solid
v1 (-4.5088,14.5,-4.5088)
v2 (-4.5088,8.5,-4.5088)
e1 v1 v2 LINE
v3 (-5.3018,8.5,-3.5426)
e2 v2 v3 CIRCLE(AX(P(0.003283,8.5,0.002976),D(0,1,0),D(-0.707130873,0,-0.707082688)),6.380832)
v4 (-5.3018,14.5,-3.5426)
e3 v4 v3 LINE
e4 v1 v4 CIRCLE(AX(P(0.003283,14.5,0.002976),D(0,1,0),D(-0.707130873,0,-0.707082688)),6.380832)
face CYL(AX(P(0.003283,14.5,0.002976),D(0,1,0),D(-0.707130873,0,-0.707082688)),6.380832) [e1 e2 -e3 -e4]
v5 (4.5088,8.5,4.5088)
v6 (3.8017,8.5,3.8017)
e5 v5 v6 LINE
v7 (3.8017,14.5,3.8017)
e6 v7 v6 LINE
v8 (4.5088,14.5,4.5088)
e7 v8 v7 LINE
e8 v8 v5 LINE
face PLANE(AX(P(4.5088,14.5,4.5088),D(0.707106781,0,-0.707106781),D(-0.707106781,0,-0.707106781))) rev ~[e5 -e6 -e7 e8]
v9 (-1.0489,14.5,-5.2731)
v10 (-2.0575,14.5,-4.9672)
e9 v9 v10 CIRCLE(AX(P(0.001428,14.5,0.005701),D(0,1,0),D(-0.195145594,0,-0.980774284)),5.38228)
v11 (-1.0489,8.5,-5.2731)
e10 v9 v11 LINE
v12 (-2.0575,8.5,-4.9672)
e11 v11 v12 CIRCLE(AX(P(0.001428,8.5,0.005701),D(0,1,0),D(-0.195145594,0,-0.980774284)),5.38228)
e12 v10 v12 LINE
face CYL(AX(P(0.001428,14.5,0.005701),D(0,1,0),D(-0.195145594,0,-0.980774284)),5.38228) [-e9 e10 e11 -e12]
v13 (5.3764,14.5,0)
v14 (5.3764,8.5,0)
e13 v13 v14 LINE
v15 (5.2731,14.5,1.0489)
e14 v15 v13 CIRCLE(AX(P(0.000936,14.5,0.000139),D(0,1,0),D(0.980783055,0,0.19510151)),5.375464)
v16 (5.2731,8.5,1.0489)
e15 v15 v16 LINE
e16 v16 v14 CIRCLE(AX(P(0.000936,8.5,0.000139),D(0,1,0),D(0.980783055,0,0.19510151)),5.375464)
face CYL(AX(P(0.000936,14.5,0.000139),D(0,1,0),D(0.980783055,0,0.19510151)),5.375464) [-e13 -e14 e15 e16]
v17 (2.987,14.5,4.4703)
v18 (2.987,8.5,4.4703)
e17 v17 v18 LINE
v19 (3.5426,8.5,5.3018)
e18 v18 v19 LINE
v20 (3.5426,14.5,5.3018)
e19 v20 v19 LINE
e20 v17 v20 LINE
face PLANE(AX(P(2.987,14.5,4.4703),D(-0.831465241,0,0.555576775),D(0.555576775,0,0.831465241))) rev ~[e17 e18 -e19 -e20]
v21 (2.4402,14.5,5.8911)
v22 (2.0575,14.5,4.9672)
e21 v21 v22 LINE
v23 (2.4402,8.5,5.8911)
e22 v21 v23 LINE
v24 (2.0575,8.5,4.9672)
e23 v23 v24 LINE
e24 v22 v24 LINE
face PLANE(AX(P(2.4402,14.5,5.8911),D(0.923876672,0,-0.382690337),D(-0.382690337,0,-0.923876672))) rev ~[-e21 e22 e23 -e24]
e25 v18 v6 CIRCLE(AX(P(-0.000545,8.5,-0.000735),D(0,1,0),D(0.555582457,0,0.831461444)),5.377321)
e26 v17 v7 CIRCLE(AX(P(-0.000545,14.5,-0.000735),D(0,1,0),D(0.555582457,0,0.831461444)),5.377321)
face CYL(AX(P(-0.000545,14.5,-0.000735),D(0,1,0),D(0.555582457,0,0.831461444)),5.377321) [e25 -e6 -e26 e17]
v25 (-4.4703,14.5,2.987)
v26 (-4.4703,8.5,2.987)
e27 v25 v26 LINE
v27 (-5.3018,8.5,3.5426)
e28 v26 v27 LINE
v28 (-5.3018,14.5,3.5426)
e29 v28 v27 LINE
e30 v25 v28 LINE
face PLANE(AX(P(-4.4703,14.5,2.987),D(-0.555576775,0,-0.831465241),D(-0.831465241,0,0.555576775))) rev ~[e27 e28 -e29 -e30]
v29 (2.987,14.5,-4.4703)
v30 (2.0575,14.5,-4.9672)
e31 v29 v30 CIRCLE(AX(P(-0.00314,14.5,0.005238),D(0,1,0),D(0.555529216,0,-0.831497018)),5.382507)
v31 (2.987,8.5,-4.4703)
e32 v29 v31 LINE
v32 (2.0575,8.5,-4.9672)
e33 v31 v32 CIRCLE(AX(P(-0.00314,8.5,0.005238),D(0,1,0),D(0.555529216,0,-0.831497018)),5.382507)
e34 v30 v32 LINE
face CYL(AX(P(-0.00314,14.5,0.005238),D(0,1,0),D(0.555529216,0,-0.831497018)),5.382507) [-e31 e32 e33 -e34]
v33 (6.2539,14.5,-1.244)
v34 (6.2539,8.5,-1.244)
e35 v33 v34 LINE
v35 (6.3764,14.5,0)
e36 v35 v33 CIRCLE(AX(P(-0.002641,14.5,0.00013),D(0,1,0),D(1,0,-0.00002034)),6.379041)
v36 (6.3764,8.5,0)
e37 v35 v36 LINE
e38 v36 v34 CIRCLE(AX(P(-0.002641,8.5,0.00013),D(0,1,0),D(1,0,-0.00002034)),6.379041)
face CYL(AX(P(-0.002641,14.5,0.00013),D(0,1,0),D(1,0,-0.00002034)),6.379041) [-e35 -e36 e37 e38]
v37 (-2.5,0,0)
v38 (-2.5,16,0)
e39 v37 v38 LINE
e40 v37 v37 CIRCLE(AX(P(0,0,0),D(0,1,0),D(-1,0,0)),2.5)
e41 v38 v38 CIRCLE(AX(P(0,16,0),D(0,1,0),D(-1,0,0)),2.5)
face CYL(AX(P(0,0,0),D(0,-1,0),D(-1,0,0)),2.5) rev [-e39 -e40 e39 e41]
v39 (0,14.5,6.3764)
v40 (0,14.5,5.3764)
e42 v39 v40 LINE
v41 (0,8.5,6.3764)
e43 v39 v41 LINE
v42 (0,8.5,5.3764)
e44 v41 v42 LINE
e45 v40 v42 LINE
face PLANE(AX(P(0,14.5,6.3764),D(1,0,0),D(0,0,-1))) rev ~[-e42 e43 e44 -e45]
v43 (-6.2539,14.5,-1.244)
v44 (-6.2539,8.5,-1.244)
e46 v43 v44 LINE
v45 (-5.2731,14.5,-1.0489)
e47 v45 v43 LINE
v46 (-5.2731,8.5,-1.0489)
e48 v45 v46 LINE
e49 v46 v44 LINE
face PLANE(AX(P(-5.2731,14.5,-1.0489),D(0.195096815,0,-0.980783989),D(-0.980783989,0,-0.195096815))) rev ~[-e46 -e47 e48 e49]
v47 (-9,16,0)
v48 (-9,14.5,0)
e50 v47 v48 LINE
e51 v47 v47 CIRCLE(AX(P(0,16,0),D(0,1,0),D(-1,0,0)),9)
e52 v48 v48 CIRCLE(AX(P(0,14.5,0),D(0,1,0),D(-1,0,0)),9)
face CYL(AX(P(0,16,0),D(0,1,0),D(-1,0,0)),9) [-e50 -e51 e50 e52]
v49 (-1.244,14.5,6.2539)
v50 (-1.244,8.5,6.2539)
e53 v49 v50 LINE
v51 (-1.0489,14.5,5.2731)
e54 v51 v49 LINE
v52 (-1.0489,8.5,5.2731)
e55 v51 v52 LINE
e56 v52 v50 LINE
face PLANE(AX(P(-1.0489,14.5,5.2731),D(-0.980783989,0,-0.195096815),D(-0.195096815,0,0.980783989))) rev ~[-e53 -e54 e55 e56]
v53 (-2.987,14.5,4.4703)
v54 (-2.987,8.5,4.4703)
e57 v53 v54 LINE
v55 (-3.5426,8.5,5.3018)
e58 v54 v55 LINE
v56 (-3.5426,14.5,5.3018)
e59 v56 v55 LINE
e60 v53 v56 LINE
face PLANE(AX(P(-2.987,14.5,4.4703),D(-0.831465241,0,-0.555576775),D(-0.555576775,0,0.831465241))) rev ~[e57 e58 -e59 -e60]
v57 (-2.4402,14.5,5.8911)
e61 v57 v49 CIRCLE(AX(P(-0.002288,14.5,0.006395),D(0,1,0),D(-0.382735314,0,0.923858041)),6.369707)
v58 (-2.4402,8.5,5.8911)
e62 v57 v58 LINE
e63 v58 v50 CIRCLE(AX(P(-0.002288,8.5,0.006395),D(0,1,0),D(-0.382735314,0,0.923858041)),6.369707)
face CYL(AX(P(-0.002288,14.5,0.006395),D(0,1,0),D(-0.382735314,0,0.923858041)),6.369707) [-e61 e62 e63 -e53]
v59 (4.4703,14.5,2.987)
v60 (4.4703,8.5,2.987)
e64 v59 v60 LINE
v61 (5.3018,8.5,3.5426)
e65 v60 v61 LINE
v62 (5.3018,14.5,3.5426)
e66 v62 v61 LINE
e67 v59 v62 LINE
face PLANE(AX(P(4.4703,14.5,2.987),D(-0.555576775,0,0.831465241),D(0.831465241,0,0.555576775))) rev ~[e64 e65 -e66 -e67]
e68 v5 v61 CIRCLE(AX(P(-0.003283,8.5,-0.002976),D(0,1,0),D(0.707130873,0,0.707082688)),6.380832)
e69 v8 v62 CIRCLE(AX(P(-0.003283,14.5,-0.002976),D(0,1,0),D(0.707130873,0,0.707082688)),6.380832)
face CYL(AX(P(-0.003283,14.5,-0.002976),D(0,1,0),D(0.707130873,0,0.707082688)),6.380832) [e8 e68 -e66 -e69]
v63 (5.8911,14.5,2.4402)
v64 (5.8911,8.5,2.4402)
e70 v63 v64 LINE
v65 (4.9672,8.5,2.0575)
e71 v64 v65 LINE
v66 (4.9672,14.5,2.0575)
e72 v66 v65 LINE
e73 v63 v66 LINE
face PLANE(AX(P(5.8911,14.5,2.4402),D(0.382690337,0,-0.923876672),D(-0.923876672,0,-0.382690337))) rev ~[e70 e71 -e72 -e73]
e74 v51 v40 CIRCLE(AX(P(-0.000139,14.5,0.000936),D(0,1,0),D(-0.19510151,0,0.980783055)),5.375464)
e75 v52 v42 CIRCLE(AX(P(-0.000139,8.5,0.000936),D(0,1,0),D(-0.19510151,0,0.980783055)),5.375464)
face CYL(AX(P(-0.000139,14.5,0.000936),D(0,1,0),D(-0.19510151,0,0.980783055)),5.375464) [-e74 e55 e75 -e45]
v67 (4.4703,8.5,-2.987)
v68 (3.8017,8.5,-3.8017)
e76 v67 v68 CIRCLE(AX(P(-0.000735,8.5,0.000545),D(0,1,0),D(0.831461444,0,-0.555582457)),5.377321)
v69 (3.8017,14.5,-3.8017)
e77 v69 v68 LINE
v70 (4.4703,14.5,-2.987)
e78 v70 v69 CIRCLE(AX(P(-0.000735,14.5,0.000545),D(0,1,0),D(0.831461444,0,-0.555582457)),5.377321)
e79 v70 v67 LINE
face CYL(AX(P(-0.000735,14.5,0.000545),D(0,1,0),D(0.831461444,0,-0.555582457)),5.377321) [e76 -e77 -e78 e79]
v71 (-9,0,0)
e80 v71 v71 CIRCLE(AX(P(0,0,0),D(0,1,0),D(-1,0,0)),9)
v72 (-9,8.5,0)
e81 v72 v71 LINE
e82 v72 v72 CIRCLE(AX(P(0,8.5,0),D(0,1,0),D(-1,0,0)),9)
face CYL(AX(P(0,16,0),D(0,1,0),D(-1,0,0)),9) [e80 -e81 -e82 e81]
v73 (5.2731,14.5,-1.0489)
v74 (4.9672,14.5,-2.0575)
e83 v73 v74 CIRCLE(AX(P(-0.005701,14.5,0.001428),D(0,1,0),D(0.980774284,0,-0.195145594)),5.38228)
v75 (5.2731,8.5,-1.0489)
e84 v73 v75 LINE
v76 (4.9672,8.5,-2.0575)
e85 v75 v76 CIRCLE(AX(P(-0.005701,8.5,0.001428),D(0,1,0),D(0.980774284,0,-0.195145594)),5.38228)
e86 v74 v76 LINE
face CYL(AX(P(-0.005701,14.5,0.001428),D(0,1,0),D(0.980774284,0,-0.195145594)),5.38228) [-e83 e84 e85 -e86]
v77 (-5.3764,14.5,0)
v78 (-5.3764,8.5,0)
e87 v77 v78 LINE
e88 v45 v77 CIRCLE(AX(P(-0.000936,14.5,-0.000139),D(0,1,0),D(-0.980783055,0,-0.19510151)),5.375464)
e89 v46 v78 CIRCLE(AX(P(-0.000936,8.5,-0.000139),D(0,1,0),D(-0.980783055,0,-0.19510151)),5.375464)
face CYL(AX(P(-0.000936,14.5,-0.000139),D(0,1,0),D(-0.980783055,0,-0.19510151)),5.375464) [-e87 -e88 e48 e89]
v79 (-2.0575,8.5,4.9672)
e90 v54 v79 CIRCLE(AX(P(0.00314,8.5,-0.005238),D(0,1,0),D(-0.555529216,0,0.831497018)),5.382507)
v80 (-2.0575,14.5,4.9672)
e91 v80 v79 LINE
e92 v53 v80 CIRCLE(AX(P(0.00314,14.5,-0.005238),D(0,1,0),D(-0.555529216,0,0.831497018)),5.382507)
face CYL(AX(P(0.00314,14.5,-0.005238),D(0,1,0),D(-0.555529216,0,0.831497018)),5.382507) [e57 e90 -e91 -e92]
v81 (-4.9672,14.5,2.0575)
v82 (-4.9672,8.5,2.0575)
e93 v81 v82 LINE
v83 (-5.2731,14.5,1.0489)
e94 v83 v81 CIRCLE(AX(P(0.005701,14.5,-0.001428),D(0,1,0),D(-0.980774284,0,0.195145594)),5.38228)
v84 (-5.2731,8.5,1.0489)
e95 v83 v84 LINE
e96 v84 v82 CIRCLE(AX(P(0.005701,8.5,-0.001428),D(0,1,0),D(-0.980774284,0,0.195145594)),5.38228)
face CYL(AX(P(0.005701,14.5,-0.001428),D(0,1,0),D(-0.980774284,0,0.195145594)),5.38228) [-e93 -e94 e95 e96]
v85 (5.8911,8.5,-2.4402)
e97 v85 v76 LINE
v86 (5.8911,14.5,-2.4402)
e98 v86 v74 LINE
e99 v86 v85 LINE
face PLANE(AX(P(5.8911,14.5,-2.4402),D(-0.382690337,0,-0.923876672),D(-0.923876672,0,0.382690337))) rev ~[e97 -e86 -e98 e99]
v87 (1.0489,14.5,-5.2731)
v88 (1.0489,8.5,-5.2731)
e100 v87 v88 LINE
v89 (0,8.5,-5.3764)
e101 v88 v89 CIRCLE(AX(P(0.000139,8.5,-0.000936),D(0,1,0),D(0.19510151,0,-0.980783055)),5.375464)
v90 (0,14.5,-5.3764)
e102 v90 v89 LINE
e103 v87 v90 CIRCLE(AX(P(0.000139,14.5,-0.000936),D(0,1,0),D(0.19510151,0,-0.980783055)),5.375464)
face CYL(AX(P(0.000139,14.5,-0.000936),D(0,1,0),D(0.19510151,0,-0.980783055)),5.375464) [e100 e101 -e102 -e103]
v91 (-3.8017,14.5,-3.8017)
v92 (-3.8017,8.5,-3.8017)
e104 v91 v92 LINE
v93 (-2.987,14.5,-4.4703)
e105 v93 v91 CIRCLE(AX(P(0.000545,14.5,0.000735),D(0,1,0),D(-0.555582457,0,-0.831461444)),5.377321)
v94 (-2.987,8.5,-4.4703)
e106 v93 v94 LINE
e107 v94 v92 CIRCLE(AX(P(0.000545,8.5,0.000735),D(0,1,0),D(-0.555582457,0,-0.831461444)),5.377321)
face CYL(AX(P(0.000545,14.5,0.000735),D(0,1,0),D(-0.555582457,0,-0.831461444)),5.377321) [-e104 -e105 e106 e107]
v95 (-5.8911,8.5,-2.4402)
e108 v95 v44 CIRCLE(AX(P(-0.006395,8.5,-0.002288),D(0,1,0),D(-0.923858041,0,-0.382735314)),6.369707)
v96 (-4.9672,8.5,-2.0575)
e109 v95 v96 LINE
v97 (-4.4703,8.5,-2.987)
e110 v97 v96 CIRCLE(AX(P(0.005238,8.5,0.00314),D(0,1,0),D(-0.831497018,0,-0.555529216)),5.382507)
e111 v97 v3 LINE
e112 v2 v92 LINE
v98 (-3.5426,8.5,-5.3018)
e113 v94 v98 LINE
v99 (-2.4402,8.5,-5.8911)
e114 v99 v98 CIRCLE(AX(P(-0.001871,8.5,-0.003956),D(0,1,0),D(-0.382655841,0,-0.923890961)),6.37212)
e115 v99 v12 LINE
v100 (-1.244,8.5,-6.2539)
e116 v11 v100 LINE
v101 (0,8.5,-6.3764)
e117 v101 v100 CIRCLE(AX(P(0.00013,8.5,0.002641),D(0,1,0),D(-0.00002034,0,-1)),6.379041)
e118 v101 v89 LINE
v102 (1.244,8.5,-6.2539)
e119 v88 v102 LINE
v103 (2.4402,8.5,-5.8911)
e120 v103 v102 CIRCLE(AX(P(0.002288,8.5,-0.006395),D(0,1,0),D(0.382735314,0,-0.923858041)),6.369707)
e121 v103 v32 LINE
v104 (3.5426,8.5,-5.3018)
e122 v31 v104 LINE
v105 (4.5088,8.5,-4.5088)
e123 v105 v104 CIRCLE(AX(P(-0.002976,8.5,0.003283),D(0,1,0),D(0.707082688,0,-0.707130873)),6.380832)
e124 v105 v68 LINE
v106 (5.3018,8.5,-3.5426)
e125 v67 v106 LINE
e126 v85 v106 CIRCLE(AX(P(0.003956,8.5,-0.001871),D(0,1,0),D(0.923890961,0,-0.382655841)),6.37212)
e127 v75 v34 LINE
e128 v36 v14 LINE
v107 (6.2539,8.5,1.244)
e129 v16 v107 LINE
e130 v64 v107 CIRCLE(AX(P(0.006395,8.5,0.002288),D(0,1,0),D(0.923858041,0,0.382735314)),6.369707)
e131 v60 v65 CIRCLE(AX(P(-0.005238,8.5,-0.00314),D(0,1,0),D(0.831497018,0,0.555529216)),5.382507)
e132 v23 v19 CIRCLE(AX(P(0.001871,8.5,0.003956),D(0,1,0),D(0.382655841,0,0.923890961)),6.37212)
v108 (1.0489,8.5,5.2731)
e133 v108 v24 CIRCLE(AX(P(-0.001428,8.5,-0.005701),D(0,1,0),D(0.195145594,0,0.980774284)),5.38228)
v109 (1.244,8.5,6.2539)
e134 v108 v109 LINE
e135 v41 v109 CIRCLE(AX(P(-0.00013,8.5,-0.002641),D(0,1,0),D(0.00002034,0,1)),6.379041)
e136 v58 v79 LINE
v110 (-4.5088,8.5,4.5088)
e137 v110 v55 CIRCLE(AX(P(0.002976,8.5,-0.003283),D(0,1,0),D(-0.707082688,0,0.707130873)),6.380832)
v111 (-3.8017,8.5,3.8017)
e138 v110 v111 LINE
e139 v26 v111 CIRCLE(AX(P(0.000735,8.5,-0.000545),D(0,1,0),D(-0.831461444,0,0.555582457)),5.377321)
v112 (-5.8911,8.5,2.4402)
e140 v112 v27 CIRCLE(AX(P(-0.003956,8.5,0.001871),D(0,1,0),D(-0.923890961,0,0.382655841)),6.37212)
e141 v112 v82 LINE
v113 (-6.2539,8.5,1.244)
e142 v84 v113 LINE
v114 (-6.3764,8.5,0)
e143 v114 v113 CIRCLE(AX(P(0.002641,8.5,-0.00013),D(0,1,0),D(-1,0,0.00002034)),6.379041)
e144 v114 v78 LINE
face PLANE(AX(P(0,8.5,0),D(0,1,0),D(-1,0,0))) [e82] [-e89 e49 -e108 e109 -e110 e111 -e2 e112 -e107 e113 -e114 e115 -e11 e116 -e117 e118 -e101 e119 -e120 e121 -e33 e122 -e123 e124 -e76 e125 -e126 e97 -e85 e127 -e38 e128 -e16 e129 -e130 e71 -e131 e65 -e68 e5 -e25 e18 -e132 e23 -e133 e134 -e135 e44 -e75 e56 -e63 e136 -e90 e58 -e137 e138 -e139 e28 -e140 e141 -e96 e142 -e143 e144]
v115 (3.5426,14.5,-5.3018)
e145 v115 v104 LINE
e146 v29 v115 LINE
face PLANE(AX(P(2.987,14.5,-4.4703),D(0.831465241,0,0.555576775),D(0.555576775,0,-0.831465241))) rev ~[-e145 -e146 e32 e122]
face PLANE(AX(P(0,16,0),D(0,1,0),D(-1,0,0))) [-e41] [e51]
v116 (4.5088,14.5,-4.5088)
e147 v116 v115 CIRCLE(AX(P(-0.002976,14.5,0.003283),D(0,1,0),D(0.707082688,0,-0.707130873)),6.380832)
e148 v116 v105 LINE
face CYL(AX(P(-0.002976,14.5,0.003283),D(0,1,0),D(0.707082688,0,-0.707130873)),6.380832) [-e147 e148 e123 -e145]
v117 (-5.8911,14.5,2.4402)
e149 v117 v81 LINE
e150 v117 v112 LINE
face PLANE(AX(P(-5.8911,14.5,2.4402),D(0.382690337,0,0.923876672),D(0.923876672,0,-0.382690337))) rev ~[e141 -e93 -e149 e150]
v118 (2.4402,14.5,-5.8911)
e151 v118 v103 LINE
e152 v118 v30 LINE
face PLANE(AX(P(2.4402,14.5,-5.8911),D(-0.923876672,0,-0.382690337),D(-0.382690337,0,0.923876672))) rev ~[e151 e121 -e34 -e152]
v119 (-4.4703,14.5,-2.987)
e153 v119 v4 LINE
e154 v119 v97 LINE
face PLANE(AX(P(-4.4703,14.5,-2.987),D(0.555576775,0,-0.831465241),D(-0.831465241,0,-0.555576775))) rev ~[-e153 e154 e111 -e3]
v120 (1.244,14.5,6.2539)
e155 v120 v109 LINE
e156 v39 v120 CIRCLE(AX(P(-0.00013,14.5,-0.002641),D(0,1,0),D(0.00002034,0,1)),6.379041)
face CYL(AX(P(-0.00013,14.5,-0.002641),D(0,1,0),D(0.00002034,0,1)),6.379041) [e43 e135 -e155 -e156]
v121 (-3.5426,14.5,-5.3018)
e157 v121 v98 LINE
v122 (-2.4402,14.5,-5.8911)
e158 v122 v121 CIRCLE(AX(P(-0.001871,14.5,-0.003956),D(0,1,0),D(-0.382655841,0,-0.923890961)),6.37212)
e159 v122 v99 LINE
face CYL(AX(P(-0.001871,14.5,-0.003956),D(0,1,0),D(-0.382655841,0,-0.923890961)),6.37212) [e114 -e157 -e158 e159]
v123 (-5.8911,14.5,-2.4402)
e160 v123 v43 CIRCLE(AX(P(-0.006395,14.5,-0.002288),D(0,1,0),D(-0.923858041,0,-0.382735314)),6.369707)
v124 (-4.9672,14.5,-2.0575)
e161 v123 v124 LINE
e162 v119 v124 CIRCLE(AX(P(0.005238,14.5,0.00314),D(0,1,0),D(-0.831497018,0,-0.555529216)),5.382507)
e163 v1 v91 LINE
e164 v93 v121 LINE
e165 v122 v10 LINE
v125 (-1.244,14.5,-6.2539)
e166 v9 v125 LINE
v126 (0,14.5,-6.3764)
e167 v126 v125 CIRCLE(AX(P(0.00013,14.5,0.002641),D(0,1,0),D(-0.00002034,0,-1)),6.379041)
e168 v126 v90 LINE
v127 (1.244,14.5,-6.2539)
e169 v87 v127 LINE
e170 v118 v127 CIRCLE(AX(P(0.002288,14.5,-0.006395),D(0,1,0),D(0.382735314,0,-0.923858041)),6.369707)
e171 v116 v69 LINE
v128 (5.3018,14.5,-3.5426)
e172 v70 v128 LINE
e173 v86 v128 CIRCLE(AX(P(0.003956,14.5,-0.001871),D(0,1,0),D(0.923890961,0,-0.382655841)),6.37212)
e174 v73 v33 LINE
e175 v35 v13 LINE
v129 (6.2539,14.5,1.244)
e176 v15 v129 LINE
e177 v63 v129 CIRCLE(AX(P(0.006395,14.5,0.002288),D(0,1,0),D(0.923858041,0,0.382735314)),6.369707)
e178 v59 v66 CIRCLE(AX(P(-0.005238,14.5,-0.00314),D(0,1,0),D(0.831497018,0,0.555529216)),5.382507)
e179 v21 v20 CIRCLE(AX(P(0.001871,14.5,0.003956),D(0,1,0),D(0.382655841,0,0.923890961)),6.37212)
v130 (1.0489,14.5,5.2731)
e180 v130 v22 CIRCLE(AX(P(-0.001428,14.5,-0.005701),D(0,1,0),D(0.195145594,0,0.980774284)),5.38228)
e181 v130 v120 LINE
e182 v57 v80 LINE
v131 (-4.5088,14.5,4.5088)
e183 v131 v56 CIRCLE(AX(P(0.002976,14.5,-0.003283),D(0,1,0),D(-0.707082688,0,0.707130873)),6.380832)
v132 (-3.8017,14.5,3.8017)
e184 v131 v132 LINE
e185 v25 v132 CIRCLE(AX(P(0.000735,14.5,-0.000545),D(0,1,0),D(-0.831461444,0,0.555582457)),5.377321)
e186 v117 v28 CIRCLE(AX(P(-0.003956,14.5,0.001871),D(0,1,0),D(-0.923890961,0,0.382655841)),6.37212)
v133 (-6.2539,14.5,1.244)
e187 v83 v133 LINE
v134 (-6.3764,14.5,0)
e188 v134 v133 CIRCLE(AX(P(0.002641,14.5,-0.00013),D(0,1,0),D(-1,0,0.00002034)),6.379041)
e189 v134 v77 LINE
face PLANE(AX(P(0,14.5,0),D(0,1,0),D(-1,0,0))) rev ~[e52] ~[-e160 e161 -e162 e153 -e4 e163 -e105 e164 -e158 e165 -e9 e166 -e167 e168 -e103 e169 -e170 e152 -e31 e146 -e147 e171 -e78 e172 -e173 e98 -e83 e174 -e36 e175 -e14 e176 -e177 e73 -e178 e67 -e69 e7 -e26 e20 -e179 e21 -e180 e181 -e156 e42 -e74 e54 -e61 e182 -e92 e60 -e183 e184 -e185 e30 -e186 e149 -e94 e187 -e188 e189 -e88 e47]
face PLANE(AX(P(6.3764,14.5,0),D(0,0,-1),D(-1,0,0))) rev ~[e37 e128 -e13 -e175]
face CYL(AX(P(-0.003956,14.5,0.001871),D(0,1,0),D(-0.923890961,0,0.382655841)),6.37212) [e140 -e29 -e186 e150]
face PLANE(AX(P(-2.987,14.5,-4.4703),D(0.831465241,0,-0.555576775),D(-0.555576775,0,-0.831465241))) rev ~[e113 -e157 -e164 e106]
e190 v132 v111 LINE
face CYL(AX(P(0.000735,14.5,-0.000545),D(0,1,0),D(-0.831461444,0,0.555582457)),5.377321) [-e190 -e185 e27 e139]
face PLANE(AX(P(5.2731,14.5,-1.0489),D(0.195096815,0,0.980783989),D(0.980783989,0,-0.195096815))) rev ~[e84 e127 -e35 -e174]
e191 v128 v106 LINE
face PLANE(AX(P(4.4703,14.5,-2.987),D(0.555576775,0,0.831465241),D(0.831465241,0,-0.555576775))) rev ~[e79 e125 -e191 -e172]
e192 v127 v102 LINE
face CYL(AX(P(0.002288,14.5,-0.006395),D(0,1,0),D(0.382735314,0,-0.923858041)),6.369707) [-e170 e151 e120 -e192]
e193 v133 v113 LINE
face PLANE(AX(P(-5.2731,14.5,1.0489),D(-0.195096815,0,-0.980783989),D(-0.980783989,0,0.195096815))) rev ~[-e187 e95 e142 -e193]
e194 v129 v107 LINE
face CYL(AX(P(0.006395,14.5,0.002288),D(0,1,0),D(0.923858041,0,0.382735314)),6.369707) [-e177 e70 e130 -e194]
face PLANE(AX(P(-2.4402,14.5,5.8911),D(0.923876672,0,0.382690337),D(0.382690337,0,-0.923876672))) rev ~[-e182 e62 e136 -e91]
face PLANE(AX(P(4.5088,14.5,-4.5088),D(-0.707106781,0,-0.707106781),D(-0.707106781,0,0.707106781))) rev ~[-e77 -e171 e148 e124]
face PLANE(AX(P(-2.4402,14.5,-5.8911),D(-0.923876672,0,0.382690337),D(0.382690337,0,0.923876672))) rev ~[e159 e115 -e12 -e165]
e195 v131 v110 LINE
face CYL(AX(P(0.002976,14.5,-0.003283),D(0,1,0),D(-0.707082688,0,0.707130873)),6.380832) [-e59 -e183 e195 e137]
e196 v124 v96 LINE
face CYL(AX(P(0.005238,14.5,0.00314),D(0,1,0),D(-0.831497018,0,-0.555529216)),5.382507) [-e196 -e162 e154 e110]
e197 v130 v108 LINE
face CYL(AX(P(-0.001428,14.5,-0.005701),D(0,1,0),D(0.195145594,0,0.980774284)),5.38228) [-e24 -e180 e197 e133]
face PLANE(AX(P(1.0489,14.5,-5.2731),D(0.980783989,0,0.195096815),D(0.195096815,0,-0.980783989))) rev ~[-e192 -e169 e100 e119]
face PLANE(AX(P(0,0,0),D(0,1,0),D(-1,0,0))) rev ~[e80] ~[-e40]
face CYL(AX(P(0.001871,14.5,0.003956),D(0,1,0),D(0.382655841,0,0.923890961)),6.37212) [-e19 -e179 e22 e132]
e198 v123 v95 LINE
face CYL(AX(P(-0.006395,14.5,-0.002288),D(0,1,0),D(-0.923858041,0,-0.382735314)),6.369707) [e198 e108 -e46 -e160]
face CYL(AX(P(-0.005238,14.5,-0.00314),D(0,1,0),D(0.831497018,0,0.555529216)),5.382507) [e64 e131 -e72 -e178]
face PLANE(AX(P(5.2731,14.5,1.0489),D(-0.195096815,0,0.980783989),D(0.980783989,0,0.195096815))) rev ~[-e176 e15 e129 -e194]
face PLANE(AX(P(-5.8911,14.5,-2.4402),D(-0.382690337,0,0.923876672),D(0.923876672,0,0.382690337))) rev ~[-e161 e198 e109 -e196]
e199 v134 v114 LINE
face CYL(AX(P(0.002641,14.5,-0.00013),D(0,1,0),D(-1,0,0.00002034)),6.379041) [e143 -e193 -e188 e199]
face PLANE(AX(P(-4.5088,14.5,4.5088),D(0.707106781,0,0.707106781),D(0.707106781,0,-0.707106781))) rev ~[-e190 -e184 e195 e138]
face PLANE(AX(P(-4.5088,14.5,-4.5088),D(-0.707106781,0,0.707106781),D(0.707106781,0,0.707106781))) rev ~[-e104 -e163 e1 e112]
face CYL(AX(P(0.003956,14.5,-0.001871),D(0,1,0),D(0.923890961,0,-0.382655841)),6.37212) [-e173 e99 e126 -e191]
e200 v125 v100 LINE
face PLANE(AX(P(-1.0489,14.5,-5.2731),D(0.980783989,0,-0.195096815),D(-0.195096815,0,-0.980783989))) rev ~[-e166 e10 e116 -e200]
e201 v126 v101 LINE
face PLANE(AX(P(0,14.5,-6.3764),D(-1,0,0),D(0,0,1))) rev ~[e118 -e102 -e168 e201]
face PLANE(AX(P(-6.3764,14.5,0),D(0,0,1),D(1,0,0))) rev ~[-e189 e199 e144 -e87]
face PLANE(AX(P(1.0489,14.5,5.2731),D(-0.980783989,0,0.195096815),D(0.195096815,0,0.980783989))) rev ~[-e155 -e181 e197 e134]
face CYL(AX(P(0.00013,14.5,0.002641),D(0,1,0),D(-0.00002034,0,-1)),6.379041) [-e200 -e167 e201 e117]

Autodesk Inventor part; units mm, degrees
ref_plane "Work Plane1" through (0, 16, 0) normal (0, 1, 0) x (-1, 0, 0)
sketch "Sketch1" plane through (0, 16, 0) normal (0, 1, 0) x (-1, 0, 0)
  circle A0 centre (0, 0) radius 9
extrude "Extrusion3" add sketch "Sketch1" against normal blind 16
ref_plane "Work Plane2" through (0, 14.5, 0) normal (0, 1, 0) x (-1, 0, 0)
sketch "Sketch2" plane through (0, 14.5, 0) normal (0, 1, 0) x (-1, 0, 0)
  arc A0 (4.4703, 2.987) -> (3.8017, 3.8017) centre (0, 0) ccw
  line L0 (2.987, -4.4703) -> (3.5426, -5.3018)
  arc A1 (-5.8911, -2.4402) -> (-5.3018, -3.5426) centre (0, 0) ccw
  line L1 (-2.4402, 5.8911) -> (-2.0575, 4.9672)
  line L2 (2.987, 4.4703) -> (3.5426, 5.3018)
  arc A2 (4.5088, -4.5088) -> (5.3018, -3.5426) centre (0, 0) ccw
  line L3 (-4.5088, -4.5088) -> (-3.8017, -3.8017)
  arc A3 (-2.987, 4.4703) -> (-3.8017, 3.8017) centre (0, 0) ccw
  arc A4 (2.4402, 5.8911) -> (1.244, 6.2539) centre (0, 0) ccw
  line L4 (5.8911, -2.4402) -> (4.9672, -2.0575)
  arc A5 (-2.987, -4.4703) -> (-2.0575, -4.9672) centre (0, 0) ccw
  line L5 (-4.4703, 2.987) -> (-5.3018, 3.5426)
  line L6 (0, 6.3764) -> (0, 5.3764)
  arc A6 (5.2731, -1.0489) -> (5.3764, 0) centre (0, 0) ccw
  line L7 (-1.0489, -5.2731) -> (-1.244, -6.2539)
  arc A7 (-5.8911, 2.4402) -> (-6.2539, 1.244) centre (0, 0) ccw
  line L8 (5.2731, 1.0489) -> (6.2539, 1.244)
  arc A8 (0, -6.3764) -> (1.244, -6.2539) centre (0, 0) ccw
  line L9 (-6.3764, 0) -> (-5.3764, 0)
  arc A9 (5.8911, 2.4402) -> (5.3018, 3.5426) centre (0, 0) ccw
  line L10 (2.4402, -5.8911) -> (2.0575, -4.9672)
  arc A10 (-5.2731, -1.0489) -> (-4.9672, -2.0575) centre (0, 0) ccw
  line L11 (-1.0489, 5.2731) -> (-1.244, 6.2539)
  line L12 (4.5088, 4.5088) -> (3.8017, 3.8017)
  arc A11 (2.987, -4.4703) -> (3.8017, -3.8017) centre (0, 0) ccw
  line L13 (-4.4703, -2.987) -> (-5.3018, -3.5426)
  arc A12 (-2.4402, 5.8911) -> (-3.5426, 5.3018) centre (0, 0) ccw
  arc A13 (2.987, 4.4703) -> (2.0575, 4.9672) centre (0, 0) ccw
  line L14 (4.4703, -2.987) -> (5.3018, -3.5426)
  arc A14 (-4.5088, -4.5088) -> (-3.5426, -5.3018) centre (0, 0) ccw
  line L15 (-4.5088, 4.5088) -> (-3.8017, 3.8017)
  line L16 (1.0489, 5.2731) -> (1.244, 6.2539)
  arc A15 (5.8911, -2.4402) -> (6.2539, -1.244) centre (0, 0) ccw
  line L17 (-2.4402, -5.8911) -> (-2.0575, -4.9672)
  arc A16 (-4.4703, 2.987) -> (-4.9672, 2.0575) centre (0, 0) ccw
  arc A17 (0, 6.3764) -> (-1.244, 6.2539) centre (0, 0) ccw
  line L18 (6.3764, 0) -> (5.3764, 0)
  arc A18 (-1.0489, -5.2731) -> (0, -5.3764) centre (0, 0) ccw
  line L19 (-5.2731, 1.0489) -> (-6.2539, 1.244)
  arc A19 (5.2731, 1.0489) -> (4.9672, 2.0575) centre (0, 0) ccw
  line L20 (1.0489, -5.2731) -> (1.244, -6.2539)
  arc A20 (-6.3764, 0) -> (-6.2539, -1.244) centre (0, 0) ccw
  line L21 (4.4703, 2.987) -> (5.3018, 3.5426)
  arc A21 (2.4402, -5.8911) -> (3.5426, -5.3018) centre (0, 0) ccw
  line L22 (-5.8911, -2.4402) -> (-4.9672, -2.0575)
  arc A22 (-1.0489, 5.2731) -> (-2.0575, 4.9672) centre (0, 0) ccw
  arc A23 (4.5088, 4.5088) -> (3.5426, 5.3018) centre (0, 0) ccw
  line L23 (4.5088, -4.5088) -> (3.8017, -3.8017)
  arc A24 (-4.4703, -2.987) -> (-3.8017, -3.8017) centre (0, 0) ccw
  line L24 (-2.987, 4.4703) -> (-3.5426, 5.3018)
  line L25 (2.4402, 5.8911) -> (2.0575, 4.9672)
  arc A25 (4.4703, -2.987) -> (4.9672, -2.0575) centre (0, 0) ccw
  line L26 (-2.987, -4.4703) -> (-3.5426, -5.3018)
  arc A26 (-4.5088, 4.5088) -> (-5.3018, 3.5426) centre (0, 0) ccw
  arc A27 (1.0489, 5.2731) -> (0, 5.3764) centre (0, 0) ccw
  line L27 (5.2731, -1.0489) -> (6.2539, -1.244)
  arc A28 (-2.4402, -5.8911) -> (-1.244, -6.2539) centre (0, 0) ccw
  line L28 (-5.8911, 2.4402) -> (-4.9672, 2.0575)
  circle A29 centre (0, 0) radius 9
  arc A30 (6.3764, 0) -> (6.2539, 1.244) centre (0, 0) ccw
  line L29 (0, -6.3764) -> (0, -5.3764)
  arc A31 (-5.2731, 1.0489) -> (-5.3764, 0) centre (0, 0) ccw
  line L30 (5.8911, 2.4402) -> (4.9672, 2.0575)
  arc A32 (1.0489, -5.2731) -> (2.0575, -4.9672) centre (0, 0) ccw
  line L31 (-5.2731, -1.0489) -> (-6.2539, -1.244)
extrude "Extrusion2" cut sketch "Sketch2" against normal blind 6
sketch "Sketch3" plane through (0, 0, 0) normal (0, 1, 0) x (-1, 0, 0)
  circle A0 centre (0, 0) radius 2.5
extrude "Extrusion1" cut sketch "Sketch3" along normal blind 16
ref_plane "Work Plane3" through (0, 11.5, 0) normal (0, 1, 0) x (1, 0, 0)
properties part number "T2.5 16T Pulley" material "Aluminum 6061"
